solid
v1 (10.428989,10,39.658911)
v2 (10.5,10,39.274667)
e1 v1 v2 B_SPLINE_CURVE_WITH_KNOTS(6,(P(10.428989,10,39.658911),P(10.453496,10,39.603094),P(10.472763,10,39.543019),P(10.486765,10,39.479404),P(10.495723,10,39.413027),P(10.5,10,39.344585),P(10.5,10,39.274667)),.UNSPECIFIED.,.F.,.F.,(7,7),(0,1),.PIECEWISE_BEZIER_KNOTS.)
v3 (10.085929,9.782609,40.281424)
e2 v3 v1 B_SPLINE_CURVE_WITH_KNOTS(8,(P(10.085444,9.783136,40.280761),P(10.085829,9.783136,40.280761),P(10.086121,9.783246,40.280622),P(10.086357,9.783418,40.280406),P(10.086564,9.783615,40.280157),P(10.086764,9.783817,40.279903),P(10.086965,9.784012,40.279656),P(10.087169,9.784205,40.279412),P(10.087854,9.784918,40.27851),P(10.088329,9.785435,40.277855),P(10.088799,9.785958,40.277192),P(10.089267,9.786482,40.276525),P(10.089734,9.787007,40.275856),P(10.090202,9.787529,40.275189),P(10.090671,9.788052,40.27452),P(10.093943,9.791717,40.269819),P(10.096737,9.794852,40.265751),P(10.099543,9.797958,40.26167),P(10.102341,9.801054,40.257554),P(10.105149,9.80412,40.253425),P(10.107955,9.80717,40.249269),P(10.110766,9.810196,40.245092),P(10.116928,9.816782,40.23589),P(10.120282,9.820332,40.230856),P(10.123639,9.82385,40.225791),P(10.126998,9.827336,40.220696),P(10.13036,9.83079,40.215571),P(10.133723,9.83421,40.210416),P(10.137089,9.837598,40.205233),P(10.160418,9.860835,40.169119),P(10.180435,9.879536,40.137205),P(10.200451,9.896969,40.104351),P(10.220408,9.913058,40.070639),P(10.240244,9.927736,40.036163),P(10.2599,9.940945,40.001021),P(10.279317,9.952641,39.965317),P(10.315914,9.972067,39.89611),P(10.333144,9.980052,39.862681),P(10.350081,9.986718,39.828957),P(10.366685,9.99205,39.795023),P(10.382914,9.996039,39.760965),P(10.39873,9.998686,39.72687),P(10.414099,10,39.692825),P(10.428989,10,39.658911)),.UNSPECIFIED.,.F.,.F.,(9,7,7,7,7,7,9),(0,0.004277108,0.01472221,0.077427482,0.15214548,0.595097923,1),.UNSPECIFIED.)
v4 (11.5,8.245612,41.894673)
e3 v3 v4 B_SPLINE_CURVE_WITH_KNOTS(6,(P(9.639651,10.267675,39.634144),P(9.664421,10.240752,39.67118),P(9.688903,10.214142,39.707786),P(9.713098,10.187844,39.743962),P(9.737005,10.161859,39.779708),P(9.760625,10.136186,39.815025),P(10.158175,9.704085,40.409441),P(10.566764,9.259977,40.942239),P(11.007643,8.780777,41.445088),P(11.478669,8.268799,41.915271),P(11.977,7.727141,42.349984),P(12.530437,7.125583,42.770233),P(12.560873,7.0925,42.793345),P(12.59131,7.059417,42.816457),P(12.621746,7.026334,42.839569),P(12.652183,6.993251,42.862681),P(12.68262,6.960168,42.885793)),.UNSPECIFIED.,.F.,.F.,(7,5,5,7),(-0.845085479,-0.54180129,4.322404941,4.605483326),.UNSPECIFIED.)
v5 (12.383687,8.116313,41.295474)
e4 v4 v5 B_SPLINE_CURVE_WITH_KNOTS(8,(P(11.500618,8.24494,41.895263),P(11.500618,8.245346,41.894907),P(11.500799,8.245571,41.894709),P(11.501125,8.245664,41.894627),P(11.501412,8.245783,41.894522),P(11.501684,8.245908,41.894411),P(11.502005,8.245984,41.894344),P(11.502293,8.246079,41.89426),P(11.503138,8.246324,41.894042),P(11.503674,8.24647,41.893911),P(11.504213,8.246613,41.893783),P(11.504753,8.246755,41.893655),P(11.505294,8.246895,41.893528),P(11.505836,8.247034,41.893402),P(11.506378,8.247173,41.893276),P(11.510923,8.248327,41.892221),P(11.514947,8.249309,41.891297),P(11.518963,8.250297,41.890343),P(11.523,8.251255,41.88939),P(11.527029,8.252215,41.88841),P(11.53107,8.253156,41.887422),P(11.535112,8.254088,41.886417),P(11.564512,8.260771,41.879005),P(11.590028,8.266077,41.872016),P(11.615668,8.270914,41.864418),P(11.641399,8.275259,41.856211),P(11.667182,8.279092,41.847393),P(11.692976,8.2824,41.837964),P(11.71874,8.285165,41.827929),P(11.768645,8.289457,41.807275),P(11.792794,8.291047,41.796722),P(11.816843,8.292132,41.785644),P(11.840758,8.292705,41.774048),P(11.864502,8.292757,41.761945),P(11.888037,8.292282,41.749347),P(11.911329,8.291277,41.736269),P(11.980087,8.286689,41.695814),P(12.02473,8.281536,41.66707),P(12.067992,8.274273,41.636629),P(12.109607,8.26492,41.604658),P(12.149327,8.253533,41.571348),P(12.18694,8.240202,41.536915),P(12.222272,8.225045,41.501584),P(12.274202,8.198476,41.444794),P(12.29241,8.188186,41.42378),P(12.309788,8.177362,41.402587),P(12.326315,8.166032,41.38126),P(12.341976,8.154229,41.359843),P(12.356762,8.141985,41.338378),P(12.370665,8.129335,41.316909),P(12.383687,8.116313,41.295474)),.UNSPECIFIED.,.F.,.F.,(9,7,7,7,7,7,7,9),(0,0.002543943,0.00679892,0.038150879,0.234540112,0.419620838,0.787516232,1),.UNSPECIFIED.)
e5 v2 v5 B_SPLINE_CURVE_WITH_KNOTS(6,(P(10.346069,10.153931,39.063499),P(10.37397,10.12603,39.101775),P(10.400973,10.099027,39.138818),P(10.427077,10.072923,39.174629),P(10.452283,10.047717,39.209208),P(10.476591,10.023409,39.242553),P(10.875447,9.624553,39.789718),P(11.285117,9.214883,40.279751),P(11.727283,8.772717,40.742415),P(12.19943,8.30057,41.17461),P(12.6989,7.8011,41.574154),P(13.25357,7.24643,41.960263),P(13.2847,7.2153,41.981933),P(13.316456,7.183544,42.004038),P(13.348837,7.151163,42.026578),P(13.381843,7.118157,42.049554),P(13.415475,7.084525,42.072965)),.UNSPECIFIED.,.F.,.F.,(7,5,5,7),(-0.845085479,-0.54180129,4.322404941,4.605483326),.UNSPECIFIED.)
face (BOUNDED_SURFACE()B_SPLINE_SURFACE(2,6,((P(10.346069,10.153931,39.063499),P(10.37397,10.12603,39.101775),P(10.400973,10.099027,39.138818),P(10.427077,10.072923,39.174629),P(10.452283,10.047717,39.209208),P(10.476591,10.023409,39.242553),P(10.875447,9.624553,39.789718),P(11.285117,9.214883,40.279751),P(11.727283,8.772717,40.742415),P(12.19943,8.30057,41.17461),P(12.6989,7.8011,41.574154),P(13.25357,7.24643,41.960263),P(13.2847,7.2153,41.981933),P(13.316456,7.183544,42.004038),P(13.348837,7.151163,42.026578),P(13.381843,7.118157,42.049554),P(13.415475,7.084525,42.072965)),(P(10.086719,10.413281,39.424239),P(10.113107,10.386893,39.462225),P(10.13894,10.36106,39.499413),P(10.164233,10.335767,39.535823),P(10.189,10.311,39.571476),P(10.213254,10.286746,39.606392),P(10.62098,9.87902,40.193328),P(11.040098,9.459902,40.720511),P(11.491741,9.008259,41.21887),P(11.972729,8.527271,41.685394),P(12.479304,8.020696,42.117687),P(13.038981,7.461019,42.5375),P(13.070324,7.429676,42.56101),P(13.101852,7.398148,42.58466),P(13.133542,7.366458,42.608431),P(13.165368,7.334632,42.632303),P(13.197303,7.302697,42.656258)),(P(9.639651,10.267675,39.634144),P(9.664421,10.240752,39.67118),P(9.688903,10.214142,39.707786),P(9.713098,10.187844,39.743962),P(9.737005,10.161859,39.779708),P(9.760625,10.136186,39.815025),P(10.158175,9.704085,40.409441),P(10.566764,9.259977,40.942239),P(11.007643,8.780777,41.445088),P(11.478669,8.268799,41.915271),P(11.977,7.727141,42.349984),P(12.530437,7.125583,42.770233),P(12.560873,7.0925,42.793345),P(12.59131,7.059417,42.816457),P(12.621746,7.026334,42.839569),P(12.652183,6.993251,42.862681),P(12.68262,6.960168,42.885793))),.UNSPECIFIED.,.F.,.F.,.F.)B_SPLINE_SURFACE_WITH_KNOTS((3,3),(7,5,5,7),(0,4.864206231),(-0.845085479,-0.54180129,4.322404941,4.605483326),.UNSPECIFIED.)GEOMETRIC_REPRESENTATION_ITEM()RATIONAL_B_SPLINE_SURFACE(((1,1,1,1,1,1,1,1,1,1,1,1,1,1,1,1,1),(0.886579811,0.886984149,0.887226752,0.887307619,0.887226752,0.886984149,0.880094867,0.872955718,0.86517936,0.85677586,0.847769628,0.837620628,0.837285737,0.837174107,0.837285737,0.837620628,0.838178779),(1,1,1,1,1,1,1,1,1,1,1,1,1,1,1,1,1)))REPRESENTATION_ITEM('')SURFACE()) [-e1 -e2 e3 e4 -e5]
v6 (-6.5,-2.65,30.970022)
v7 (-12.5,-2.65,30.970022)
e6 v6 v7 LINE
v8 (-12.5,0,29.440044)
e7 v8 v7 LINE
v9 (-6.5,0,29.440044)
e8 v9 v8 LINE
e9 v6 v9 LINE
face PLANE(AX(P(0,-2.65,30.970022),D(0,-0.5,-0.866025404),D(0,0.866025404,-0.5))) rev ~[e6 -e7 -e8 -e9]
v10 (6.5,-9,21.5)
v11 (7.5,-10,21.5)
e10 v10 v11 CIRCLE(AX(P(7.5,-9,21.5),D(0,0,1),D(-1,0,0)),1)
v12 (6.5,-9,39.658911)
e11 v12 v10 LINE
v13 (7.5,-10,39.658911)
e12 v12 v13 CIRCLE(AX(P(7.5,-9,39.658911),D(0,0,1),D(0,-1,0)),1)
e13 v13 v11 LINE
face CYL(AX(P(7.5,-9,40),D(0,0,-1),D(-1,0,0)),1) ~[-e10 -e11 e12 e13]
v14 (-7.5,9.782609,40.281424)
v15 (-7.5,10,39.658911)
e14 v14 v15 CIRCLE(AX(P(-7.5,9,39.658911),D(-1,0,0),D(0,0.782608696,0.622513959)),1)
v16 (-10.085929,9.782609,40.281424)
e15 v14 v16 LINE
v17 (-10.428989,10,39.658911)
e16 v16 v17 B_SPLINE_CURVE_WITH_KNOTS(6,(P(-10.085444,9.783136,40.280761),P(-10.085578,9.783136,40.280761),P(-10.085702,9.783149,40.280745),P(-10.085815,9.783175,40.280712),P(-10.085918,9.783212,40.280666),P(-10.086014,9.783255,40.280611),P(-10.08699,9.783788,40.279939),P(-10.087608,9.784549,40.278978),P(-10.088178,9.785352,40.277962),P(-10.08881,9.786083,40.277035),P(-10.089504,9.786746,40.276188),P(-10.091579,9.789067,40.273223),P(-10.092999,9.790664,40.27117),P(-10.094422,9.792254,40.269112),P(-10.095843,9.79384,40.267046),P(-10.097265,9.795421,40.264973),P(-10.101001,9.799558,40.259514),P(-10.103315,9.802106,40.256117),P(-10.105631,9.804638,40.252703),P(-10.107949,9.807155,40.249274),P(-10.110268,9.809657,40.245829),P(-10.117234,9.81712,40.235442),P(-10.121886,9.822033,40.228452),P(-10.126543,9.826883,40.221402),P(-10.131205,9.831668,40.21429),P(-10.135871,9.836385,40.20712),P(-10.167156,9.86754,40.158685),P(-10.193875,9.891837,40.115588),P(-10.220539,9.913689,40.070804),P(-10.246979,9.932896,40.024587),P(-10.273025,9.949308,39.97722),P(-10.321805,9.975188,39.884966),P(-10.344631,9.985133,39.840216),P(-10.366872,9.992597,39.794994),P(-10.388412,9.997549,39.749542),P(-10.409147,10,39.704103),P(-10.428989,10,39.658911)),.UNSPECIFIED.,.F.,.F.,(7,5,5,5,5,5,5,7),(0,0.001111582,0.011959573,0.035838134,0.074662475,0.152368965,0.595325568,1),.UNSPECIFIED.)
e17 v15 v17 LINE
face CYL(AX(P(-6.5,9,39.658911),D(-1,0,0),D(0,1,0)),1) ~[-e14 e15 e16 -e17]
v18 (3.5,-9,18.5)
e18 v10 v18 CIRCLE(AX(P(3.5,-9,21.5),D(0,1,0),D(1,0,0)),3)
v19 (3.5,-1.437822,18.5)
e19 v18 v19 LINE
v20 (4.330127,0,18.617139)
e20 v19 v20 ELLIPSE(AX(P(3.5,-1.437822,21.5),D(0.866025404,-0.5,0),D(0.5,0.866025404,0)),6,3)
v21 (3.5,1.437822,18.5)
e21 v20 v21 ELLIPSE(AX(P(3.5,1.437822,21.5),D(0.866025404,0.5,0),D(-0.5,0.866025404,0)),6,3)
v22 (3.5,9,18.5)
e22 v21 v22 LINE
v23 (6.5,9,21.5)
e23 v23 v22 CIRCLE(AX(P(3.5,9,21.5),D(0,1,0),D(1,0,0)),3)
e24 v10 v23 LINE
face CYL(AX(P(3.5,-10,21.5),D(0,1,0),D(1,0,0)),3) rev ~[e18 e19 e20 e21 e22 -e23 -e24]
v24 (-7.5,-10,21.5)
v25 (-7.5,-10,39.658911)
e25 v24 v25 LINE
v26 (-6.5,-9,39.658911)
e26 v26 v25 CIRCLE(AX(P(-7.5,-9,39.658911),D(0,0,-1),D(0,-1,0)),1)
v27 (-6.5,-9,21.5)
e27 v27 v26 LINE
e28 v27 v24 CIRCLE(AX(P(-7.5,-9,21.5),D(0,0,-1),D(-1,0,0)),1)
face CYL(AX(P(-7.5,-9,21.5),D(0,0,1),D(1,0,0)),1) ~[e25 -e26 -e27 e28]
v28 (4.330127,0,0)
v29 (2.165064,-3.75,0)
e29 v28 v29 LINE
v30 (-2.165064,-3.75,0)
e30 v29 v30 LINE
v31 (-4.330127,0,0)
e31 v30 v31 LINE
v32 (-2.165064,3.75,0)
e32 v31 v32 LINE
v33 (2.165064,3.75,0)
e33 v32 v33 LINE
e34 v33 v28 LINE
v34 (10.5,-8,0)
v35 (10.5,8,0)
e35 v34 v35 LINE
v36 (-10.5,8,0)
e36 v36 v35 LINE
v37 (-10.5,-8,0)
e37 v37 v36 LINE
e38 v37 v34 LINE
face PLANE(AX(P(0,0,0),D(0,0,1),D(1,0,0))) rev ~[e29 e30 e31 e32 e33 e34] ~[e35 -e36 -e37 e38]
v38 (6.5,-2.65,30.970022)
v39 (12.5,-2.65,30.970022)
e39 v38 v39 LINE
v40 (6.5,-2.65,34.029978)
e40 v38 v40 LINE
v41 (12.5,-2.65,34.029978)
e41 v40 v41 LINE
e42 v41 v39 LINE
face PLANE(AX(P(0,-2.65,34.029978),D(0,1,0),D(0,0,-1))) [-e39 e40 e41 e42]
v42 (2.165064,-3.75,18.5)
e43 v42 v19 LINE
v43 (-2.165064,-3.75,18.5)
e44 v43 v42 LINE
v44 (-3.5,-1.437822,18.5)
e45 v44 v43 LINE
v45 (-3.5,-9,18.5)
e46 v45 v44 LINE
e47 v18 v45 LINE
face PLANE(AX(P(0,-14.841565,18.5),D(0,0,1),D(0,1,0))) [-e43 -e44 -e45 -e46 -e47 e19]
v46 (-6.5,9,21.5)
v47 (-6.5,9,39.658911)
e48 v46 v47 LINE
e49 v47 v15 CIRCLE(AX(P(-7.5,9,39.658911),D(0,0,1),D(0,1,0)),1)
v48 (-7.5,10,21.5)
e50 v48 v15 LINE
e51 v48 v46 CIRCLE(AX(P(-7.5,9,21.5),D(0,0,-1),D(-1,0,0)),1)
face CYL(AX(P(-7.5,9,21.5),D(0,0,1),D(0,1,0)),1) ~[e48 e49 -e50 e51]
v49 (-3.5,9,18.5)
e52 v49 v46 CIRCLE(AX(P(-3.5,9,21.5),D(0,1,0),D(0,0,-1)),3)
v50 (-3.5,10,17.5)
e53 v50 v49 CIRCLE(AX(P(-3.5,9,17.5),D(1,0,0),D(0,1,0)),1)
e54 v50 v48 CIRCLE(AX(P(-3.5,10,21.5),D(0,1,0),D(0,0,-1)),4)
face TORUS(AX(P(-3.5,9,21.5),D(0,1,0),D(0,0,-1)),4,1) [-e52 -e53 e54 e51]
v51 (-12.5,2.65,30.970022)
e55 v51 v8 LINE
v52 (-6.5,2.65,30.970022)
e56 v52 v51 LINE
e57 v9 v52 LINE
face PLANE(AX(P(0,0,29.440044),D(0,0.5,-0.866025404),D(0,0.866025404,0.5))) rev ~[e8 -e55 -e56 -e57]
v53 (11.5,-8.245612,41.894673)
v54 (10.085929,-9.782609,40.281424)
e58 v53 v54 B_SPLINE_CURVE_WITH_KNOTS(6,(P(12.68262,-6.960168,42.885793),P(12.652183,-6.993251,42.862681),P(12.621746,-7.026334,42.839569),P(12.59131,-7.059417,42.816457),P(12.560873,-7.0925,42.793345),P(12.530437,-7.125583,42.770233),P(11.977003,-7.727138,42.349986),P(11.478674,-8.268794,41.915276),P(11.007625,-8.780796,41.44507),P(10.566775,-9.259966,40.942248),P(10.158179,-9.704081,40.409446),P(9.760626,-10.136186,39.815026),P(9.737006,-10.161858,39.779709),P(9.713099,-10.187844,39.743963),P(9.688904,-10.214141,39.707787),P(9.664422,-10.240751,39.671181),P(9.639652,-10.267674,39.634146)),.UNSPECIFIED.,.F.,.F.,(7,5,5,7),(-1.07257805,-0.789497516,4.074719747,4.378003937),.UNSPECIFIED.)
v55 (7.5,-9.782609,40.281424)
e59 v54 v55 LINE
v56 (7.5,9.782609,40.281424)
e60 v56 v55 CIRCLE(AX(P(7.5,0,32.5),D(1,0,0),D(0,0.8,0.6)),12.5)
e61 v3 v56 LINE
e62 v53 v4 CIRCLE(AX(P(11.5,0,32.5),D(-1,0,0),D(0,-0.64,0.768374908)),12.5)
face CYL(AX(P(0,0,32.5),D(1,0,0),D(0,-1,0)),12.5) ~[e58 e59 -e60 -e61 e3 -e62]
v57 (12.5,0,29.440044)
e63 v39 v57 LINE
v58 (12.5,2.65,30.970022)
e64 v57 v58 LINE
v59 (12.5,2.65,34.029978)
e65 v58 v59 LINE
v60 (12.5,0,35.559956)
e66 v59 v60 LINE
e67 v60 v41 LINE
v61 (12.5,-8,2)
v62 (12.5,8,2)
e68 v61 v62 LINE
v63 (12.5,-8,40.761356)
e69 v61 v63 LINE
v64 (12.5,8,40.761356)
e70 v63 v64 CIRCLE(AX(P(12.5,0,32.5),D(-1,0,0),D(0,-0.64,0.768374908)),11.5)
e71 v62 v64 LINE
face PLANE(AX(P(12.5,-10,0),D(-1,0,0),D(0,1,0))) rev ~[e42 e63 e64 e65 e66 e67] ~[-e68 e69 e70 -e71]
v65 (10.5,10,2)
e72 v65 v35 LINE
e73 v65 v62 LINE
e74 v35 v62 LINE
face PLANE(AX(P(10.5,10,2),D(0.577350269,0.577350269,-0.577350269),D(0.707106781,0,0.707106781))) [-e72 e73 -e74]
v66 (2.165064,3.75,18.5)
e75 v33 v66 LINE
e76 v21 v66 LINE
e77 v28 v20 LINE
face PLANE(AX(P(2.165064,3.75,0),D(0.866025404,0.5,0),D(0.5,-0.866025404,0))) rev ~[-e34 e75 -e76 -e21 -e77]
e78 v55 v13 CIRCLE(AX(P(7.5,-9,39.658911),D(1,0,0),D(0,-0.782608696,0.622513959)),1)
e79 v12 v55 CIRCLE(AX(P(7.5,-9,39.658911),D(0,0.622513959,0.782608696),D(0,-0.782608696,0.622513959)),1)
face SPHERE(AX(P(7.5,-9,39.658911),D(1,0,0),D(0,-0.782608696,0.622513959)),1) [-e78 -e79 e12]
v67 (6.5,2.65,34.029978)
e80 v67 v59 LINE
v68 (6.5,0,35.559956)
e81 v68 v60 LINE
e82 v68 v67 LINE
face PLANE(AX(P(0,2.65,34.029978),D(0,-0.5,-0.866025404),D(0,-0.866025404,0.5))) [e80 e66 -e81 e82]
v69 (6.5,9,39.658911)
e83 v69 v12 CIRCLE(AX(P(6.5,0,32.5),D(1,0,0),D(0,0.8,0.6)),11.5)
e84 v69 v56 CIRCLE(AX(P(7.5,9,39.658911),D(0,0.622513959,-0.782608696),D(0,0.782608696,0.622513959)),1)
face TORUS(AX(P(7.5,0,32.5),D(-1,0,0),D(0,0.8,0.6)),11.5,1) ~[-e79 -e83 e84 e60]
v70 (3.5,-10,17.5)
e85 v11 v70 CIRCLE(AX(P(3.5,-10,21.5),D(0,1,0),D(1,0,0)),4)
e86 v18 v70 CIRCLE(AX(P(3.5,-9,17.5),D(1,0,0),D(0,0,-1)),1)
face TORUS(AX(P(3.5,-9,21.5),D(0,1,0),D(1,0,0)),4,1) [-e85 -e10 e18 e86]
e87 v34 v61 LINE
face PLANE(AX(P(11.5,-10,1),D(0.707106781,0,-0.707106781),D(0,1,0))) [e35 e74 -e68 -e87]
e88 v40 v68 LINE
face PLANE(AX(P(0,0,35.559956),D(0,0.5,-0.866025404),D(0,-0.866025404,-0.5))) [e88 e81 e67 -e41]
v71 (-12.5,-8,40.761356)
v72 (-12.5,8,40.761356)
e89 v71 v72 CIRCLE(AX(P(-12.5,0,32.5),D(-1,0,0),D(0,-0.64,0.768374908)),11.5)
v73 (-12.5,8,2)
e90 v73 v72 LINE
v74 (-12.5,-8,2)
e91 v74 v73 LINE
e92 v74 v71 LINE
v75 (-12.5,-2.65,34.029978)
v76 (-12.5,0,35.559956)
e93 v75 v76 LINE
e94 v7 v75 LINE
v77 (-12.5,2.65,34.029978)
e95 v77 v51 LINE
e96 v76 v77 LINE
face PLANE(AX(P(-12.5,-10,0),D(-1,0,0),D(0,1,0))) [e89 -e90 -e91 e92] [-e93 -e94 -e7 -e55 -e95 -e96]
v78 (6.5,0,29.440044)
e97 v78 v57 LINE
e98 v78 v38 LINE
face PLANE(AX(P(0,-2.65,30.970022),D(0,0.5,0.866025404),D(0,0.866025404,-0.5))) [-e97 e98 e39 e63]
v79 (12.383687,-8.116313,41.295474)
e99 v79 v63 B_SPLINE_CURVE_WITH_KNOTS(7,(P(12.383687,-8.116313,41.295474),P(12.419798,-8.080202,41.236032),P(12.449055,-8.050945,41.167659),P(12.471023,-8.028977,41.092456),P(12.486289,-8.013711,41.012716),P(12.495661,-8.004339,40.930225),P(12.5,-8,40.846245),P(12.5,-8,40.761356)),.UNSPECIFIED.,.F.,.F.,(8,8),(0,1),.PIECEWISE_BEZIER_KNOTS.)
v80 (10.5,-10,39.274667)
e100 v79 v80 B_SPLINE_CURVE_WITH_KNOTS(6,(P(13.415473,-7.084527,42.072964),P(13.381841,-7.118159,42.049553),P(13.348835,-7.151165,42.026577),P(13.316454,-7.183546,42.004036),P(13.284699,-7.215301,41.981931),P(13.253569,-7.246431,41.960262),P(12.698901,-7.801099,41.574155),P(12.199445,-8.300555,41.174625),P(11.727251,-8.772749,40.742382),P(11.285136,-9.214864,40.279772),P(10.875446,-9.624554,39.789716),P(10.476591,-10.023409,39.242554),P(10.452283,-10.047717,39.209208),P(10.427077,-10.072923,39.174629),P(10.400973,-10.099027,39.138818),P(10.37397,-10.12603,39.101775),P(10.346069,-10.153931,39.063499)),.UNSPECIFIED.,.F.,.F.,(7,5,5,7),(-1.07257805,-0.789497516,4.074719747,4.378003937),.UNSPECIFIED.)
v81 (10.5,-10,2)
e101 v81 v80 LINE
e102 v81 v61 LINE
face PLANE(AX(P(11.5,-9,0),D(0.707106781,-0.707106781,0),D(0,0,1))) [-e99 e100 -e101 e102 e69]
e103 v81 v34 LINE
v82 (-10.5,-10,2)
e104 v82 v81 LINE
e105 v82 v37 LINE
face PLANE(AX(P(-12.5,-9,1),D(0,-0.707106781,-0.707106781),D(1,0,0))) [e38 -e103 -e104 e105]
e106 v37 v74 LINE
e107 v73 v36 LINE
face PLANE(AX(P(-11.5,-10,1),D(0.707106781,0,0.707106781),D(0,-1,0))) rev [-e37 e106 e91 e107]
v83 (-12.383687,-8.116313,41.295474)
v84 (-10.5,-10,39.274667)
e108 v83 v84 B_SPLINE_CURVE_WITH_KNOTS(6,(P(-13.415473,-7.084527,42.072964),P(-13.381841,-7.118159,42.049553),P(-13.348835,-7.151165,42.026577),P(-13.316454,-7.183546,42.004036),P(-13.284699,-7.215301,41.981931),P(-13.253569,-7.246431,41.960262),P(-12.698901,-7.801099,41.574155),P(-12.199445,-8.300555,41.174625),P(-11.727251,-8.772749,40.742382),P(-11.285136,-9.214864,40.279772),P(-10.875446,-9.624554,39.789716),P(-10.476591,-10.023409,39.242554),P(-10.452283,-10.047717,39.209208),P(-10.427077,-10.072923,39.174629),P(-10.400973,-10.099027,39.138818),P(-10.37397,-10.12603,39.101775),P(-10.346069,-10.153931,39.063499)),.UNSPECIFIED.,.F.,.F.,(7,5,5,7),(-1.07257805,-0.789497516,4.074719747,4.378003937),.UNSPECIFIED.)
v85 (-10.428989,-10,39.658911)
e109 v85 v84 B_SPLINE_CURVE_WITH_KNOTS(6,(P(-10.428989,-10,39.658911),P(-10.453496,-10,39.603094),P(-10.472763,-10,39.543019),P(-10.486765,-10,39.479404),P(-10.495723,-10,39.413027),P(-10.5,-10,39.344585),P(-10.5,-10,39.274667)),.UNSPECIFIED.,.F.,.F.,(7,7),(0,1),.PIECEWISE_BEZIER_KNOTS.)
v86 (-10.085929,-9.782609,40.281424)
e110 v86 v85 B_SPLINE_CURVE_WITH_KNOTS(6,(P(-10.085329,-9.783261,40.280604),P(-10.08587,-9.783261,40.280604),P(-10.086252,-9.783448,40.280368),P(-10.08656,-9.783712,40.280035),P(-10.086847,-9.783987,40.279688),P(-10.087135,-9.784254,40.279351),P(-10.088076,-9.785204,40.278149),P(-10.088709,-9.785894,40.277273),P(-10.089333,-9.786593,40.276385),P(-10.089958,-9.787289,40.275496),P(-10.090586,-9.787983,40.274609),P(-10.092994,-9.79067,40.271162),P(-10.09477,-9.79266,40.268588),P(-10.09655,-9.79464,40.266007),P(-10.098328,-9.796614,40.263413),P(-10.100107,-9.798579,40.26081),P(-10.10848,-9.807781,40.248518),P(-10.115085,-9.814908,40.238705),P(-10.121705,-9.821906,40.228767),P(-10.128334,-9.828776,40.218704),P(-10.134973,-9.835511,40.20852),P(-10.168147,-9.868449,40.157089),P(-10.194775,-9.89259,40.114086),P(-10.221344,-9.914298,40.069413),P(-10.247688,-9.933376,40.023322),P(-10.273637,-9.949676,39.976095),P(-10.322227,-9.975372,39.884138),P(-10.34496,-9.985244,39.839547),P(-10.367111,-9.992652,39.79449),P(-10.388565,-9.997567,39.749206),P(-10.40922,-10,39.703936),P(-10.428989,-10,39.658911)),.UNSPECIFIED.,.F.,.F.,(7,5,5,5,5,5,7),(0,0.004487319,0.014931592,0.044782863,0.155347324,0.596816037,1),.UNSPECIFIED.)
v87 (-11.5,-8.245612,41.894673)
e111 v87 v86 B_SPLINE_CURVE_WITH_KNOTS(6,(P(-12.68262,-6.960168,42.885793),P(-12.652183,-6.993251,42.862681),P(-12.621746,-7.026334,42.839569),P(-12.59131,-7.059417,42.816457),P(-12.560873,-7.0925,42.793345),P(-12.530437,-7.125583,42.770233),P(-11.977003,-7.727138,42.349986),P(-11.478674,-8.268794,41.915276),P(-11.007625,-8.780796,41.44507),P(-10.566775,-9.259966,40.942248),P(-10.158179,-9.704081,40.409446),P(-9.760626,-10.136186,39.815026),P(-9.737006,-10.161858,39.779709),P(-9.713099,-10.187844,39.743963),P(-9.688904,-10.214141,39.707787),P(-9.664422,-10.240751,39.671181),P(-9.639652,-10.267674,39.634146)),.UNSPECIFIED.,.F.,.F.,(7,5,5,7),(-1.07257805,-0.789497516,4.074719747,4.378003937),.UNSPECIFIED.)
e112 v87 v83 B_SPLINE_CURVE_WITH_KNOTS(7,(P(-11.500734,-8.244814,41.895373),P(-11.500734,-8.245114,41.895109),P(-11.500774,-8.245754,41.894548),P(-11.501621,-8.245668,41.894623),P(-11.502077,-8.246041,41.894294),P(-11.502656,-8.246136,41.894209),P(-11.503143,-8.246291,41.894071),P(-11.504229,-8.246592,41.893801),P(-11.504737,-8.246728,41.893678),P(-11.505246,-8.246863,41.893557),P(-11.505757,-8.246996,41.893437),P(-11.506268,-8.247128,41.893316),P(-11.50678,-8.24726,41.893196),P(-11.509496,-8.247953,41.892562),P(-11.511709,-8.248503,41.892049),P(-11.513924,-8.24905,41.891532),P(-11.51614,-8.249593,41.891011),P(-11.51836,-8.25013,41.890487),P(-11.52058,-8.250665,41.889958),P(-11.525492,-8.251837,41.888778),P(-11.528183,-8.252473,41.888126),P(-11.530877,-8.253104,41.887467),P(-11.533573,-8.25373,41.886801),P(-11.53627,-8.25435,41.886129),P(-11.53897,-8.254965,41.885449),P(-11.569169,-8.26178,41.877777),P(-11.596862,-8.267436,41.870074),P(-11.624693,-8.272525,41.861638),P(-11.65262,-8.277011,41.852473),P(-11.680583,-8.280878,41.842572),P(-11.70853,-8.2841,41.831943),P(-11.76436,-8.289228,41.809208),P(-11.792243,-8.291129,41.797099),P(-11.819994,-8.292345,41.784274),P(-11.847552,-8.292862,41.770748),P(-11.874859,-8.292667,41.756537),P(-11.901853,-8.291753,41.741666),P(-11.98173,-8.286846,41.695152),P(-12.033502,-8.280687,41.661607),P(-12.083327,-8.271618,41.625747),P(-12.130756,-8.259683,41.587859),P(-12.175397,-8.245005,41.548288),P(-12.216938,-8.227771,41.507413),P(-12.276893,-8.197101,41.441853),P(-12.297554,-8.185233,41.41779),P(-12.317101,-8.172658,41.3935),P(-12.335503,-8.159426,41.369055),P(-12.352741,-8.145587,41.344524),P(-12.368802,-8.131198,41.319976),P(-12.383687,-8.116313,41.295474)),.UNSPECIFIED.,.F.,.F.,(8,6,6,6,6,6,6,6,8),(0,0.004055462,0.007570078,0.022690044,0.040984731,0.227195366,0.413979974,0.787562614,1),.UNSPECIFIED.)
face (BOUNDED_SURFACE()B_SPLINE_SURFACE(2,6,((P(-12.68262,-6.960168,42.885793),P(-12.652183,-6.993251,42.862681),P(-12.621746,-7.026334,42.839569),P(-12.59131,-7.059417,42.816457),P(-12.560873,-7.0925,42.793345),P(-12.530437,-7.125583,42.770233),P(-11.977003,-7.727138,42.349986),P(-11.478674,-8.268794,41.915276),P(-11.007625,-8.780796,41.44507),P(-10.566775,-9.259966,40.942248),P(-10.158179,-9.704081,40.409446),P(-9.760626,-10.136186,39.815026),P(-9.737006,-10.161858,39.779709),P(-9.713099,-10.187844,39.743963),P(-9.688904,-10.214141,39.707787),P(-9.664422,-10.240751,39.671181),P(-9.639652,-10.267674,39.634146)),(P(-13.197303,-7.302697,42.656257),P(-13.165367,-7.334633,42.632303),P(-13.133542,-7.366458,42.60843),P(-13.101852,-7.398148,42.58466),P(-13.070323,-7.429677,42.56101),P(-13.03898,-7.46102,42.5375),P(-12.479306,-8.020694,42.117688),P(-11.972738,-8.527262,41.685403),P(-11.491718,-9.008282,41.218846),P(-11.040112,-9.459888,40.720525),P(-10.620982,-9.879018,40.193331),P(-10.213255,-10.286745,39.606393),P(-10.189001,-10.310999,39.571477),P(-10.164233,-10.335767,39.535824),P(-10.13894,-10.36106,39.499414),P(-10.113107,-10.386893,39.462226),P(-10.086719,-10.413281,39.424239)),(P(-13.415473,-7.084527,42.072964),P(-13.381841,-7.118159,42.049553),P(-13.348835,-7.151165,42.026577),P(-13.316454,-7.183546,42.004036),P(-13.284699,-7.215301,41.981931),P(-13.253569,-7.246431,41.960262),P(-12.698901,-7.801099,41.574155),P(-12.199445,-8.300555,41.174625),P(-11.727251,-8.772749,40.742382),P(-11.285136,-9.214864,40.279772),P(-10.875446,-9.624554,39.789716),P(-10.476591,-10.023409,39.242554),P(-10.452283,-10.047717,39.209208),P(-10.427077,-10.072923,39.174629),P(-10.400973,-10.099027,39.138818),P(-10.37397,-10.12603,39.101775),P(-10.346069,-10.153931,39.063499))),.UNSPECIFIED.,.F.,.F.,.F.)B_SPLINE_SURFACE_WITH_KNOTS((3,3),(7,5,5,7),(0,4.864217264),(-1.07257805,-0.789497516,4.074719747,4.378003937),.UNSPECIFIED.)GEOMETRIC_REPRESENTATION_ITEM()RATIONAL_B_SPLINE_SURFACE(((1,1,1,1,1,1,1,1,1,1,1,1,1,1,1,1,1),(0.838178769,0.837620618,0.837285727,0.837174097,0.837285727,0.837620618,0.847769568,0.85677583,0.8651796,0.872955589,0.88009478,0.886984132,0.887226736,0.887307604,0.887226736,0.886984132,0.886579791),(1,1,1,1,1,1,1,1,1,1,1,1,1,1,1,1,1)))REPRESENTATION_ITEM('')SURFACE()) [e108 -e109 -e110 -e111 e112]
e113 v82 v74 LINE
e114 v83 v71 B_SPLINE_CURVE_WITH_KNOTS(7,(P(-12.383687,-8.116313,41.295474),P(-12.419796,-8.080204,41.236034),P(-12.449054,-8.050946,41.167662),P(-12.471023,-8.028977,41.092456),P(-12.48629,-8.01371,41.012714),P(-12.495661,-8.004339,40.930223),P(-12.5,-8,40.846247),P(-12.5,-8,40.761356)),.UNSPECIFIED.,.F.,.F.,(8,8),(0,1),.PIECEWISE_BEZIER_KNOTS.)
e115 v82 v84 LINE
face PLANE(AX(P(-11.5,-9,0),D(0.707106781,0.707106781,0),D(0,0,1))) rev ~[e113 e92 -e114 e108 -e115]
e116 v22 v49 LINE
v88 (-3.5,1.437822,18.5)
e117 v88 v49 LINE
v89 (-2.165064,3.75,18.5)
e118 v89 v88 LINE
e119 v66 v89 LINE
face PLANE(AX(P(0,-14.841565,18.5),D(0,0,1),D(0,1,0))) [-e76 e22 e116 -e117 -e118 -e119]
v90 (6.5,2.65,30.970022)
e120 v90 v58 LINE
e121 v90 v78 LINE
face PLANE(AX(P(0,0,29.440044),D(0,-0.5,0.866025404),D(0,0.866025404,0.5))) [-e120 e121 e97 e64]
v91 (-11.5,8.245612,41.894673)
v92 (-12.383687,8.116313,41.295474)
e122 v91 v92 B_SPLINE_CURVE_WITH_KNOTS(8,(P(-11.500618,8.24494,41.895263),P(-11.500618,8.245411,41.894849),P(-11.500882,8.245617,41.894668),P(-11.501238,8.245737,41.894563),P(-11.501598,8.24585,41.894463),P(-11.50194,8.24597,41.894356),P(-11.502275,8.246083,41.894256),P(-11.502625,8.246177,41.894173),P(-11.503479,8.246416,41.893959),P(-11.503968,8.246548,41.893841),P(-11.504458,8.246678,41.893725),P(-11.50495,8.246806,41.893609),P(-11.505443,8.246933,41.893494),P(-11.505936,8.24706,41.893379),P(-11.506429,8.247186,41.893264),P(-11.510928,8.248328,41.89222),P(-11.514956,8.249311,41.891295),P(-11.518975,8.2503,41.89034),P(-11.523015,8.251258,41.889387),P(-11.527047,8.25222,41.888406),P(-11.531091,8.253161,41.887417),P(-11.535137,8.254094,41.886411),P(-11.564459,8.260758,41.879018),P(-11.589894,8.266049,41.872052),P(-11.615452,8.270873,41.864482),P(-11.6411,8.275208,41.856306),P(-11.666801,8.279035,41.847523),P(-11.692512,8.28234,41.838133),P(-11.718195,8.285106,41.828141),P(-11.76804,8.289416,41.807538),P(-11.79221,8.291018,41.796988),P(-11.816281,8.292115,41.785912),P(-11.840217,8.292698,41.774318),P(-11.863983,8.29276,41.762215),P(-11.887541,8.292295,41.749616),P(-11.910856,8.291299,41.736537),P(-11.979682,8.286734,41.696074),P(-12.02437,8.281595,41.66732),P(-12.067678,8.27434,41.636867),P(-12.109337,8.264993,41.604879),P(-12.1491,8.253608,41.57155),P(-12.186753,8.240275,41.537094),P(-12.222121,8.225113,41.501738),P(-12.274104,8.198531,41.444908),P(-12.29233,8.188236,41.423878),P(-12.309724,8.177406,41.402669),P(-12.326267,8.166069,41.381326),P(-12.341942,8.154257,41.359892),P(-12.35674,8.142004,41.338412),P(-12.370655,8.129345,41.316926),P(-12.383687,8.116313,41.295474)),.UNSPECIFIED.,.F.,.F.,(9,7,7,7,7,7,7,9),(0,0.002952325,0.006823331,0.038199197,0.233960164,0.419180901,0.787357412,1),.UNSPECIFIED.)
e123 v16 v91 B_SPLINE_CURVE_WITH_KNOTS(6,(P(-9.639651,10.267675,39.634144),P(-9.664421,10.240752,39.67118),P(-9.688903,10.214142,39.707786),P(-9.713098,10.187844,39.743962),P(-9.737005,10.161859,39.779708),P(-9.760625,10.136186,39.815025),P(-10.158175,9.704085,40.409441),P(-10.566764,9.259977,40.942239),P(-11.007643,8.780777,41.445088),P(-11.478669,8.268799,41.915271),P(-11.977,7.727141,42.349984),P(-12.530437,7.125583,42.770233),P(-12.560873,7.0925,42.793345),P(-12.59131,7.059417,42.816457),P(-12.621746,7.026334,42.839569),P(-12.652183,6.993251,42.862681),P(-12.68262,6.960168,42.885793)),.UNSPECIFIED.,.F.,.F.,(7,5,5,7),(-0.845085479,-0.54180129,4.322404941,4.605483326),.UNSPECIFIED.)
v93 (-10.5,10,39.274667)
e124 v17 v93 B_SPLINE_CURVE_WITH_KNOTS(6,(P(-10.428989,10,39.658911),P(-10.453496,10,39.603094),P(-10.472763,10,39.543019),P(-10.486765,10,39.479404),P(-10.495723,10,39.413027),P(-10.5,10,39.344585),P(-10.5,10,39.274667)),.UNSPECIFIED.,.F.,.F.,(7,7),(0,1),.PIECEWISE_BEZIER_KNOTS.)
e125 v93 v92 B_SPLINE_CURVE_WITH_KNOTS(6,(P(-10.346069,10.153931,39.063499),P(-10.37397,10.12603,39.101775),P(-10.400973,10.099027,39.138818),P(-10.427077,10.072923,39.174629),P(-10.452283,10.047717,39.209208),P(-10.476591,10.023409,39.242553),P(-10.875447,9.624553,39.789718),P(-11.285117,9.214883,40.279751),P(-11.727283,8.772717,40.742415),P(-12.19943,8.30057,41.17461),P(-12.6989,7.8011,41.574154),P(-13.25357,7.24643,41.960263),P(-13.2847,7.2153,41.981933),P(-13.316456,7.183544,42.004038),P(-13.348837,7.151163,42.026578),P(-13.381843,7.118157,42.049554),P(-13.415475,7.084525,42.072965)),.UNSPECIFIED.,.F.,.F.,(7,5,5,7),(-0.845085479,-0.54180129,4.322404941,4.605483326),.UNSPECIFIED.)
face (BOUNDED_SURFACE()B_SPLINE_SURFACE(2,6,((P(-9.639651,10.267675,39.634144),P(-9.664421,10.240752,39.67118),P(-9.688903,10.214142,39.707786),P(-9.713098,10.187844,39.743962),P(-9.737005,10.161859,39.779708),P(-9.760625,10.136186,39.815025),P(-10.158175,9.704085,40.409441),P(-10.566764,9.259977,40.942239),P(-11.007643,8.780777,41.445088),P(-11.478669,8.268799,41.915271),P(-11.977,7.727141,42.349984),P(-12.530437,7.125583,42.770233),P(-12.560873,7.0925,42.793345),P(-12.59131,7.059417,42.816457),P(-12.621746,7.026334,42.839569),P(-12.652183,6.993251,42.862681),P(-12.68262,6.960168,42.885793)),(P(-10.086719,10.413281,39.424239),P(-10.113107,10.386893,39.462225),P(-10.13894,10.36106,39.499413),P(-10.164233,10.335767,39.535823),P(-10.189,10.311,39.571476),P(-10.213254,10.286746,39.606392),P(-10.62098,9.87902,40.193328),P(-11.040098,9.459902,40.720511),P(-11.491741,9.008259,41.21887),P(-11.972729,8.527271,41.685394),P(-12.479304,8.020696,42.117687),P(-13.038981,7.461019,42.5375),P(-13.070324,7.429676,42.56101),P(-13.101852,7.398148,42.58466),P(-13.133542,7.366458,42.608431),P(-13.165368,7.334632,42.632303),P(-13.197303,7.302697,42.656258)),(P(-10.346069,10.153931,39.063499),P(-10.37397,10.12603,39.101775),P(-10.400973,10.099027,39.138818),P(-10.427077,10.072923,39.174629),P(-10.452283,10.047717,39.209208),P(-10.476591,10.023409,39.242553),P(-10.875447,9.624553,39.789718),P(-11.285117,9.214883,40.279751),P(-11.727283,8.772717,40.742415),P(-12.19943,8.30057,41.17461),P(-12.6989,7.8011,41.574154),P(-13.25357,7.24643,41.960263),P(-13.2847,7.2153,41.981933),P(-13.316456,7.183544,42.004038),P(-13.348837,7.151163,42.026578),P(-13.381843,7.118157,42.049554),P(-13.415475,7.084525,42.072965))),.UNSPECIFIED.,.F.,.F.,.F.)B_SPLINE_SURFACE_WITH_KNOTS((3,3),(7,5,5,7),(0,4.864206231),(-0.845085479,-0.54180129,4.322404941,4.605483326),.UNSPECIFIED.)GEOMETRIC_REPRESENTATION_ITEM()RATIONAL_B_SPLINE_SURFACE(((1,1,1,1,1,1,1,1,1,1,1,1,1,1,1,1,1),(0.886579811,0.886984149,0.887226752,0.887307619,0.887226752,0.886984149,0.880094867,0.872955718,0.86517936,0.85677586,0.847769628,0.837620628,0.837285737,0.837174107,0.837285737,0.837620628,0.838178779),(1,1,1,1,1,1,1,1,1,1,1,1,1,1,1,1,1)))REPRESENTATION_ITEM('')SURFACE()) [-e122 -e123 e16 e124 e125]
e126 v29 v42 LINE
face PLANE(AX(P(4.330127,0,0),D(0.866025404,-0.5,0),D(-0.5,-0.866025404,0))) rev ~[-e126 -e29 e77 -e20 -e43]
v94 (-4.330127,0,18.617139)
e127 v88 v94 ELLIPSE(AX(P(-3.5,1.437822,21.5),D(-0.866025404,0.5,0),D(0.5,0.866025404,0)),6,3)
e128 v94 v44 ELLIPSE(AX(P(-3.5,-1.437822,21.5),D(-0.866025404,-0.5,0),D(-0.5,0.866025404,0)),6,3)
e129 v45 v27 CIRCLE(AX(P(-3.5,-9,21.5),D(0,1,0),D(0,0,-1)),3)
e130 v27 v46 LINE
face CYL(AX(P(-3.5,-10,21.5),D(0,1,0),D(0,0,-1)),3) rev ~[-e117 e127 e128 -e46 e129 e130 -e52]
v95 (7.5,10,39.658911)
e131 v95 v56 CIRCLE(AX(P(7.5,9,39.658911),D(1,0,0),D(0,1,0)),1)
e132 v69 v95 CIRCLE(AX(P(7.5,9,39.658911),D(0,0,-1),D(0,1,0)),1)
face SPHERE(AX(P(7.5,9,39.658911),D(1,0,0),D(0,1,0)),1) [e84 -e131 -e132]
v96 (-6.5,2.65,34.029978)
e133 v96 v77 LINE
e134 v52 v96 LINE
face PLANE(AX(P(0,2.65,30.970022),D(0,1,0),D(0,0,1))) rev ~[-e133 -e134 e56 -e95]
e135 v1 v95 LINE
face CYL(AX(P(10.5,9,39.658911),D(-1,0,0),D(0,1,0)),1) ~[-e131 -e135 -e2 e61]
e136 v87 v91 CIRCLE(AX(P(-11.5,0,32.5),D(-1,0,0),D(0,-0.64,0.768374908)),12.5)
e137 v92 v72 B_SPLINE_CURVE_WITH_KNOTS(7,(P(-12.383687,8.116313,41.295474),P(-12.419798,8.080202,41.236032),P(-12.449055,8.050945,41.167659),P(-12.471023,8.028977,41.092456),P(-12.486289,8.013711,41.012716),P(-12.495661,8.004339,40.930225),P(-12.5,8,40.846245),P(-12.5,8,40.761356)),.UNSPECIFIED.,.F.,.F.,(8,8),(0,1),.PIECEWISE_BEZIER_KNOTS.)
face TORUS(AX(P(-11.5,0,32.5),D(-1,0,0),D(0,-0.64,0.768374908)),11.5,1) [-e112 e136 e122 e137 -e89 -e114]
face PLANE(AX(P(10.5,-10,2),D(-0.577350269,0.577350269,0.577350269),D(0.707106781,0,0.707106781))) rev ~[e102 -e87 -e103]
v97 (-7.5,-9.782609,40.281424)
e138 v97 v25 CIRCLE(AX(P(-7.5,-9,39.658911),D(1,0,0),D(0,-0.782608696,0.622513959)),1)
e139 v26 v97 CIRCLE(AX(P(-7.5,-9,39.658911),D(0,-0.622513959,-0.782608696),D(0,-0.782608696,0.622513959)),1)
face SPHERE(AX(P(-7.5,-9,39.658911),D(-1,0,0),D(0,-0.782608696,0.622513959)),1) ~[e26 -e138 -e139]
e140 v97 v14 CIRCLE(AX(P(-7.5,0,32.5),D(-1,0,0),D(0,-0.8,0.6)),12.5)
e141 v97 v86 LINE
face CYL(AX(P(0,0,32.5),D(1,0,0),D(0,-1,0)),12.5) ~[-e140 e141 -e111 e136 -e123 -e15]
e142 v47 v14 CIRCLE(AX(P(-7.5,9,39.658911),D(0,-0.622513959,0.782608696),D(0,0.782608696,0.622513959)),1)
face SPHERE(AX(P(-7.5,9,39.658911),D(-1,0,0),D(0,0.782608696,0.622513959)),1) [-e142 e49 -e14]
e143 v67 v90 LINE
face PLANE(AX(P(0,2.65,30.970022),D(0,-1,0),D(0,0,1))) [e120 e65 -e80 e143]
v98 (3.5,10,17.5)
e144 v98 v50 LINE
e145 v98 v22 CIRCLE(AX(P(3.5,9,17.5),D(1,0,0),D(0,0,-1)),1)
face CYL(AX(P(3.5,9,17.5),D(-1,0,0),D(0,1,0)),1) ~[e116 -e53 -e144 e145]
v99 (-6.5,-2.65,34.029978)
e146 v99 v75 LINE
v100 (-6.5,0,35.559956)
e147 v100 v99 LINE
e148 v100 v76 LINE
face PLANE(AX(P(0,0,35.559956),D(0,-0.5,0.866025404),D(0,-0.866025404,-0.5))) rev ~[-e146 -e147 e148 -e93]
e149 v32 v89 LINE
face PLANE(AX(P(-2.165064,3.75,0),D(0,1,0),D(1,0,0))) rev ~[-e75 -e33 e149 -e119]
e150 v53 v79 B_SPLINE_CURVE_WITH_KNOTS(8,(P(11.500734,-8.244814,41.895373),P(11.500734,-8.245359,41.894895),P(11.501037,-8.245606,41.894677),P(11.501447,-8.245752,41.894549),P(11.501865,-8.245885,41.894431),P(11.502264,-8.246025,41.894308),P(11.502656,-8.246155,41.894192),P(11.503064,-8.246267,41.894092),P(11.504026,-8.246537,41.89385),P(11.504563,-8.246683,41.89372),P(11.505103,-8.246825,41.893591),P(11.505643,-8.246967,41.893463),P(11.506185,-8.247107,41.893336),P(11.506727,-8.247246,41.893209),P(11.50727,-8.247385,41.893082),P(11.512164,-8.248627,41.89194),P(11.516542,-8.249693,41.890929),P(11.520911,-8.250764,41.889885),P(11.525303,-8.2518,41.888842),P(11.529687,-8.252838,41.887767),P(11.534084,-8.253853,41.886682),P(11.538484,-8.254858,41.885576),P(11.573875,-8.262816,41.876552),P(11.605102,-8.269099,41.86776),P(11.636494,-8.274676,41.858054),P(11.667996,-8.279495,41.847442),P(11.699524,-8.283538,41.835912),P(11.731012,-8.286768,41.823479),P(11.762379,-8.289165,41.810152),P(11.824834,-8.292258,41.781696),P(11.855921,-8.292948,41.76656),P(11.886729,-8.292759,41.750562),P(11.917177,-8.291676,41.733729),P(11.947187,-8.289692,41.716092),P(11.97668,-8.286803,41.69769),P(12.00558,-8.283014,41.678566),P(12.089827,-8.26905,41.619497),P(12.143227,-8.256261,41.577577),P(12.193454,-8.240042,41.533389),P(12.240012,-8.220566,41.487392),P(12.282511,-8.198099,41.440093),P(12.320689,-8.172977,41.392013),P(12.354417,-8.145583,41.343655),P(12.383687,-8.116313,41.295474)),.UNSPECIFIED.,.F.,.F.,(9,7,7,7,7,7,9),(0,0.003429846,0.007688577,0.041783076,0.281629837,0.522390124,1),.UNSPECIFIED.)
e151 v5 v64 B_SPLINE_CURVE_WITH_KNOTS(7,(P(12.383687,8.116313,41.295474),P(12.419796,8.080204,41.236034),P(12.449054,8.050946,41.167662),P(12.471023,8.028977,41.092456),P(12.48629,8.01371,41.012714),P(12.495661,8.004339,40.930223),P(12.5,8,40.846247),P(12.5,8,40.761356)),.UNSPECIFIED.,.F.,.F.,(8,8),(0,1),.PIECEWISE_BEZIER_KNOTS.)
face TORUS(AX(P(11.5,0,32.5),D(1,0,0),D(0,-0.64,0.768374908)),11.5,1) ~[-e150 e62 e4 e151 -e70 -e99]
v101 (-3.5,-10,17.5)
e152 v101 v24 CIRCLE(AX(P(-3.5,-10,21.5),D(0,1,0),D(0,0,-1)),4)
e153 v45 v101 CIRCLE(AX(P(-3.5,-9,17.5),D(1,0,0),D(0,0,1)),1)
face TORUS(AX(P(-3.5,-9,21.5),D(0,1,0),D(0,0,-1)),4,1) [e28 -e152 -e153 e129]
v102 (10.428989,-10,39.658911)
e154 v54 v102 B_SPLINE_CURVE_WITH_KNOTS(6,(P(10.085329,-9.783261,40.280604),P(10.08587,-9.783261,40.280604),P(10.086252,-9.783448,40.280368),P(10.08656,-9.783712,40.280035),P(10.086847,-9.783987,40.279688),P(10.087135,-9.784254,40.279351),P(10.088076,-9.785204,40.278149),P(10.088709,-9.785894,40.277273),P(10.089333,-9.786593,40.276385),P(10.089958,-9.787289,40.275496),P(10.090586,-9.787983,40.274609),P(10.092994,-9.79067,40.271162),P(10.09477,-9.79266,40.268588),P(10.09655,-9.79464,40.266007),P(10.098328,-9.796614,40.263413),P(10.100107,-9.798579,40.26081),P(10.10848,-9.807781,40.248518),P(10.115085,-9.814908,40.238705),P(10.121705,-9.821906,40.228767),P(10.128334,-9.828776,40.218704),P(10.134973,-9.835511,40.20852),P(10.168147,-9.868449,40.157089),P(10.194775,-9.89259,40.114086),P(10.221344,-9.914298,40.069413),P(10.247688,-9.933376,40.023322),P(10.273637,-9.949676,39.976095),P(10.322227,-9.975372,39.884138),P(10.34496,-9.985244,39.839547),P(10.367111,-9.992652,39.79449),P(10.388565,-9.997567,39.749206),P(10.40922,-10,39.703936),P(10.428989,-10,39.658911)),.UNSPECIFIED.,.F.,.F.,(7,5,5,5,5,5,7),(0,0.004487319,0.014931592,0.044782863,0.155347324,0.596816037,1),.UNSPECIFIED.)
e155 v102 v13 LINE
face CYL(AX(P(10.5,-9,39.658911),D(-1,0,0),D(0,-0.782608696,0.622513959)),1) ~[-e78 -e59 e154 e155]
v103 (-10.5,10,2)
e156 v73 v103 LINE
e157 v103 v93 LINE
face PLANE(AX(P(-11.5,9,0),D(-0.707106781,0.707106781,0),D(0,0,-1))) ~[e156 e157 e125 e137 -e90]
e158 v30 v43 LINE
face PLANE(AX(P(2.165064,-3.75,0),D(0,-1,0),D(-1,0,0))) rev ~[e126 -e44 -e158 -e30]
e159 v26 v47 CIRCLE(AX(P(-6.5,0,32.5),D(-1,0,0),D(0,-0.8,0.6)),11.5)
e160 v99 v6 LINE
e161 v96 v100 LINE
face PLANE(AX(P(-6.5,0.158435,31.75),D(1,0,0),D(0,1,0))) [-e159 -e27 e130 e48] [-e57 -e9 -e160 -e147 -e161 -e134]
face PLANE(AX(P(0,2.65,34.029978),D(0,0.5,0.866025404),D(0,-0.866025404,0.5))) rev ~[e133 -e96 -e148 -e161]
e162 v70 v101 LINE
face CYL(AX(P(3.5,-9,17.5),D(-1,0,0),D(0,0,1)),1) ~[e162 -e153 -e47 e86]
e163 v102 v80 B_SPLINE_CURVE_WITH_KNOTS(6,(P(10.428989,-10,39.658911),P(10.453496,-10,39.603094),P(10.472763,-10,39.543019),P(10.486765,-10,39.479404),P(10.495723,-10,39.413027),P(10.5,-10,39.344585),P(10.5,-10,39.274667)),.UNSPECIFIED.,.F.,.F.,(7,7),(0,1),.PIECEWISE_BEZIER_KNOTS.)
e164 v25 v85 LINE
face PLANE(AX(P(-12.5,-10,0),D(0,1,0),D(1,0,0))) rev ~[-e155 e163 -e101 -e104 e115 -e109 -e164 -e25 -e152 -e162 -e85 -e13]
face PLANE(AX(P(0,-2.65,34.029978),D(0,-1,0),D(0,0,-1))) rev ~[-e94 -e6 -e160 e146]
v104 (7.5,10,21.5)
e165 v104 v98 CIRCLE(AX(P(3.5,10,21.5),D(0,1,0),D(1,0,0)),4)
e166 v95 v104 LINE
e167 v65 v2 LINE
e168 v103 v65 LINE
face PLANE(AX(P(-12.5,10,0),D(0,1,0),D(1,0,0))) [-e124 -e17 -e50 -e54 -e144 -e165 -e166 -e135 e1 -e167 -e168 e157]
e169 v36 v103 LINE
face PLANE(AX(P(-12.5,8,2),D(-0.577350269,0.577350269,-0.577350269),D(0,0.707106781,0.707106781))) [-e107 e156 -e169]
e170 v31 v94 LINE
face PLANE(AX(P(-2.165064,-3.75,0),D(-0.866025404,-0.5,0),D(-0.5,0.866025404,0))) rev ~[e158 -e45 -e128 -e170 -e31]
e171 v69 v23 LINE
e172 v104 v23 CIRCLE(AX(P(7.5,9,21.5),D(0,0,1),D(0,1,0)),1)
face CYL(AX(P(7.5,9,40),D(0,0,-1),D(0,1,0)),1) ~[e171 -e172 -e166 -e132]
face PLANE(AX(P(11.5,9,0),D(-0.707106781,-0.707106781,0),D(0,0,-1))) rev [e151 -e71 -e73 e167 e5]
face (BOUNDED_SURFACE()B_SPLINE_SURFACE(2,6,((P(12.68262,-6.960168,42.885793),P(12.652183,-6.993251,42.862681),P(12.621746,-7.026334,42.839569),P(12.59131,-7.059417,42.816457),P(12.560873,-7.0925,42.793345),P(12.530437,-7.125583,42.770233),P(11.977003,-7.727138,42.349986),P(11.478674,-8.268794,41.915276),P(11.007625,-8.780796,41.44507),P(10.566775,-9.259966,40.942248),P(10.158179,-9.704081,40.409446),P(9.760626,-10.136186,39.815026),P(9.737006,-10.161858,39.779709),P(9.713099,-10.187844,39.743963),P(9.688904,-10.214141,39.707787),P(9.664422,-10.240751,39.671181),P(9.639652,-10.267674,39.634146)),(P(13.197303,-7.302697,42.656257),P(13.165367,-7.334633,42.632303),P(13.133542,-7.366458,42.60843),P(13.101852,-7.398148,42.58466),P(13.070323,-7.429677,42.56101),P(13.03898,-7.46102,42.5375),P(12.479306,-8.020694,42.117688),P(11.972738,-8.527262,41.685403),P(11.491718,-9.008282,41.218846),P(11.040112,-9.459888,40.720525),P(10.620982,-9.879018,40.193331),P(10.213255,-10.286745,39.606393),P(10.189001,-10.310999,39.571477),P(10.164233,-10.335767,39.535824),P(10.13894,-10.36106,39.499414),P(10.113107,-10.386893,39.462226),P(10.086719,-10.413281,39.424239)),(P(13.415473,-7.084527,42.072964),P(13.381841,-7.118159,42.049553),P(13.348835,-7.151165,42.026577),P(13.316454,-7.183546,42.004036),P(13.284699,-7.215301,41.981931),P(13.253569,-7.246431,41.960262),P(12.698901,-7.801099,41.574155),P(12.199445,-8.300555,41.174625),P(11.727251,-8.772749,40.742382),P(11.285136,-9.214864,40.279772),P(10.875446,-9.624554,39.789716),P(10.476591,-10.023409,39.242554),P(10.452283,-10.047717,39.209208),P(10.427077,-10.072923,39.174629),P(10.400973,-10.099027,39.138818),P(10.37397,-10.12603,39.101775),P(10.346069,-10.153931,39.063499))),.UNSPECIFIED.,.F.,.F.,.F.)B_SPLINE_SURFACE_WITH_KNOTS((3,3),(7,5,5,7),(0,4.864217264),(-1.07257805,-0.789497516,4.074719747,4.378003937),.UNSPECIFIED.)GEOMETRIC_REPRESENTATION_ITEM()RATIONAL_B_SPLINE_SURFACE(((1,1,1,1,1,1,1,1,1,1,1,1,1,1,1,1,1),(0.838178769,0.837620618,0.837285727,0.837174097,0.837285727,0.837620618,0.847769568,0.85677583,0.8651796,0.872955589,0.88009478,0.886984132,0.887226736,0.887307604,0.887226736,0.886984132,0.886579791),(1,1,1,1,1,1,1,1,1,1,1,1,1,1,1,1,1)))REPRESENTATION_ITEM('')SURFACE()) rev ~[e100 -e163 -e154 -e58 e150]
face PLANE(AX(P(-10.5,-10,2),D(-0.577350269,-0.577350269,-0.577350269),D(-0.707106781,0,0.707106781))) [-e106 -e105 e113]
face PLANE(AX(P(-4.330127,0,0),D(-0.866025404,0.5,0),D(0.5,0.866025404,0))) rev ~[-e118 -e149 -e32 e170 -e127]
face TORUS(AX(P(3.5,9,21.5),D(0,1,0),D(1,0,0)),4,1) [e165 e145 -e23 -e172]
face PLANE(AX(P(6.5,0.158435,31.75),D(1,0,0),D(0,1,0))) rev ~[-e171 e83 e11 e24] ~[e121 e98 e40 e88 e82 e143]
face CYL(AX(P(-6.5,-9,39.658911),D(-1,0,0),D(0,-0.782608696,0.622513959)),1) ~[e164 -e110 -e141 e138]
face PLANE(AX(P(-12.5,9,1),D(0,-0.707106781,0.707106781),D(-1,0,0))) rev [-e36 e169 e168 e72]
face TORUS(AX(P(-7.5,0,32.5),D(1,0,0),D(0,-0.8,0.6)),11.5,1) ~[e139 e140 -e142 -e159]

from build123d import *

# Parameters (mm, degrees)
F0_W           = 25
F0_H           = 20
F1_DEPTH       = 45
F6_DEPTH       = 12.501
F6_DEPTH_BACK  = 12.501
F4_W           = 30
F4_H           = 26.5
F7_DEPTH       = 6.5
F7_DEPTH_BACK  = 6.5
F8_R           = 3
F9_SIZE        = 2
F10_R          = 1
F11_DEPTH      = 12.5010001
F11_DEPTH_BACK = 12.5010001
F12_DEPTH      = 25


with BuildPart() as f1:
    # F0 (on Top) → F1 (new body)
    with BuildSketch(Plane.XY):
        Rectangle(F0_W, F0_H)
    extrude(amount=F1_DEPTH)

    # F3 (on Right) → F6 (cut, two sides)
    with BuildSketch(Plane.YZ) as f6_sk:
        with BuildLine():
            Line((12.4710435048, 32.5), (12.5, 32.5))
            ThreePointArc((12.5, 32.5), (12.4927587788, 32.9254152033), (12.4710435048, 33.3503375224))
            Line((12.4710435048, 33.3503375224), (12.4710435048, 32.5))
        make_face()
        with BuildLine():
            ThreePointArc((-12.5, 32.5), (-0.4254152033, 44.9927587788), (12.4710435048, 33.3503375224))
            Line((12.4710435048, 33.3503375224), (12.4710435048, 47.7809855342))
            Line((12.4710435048, 47.7809855342), (-12.574961409, 47.7809855342))
            Line((-12.574961409, 47.7809855342), (-12.574961409, 32.5))
            Line((-12.574961409, 32.5), (-12.5, 32.5))
        make_face()
    extrude(amount=-F6_DEPTH, mode=Mode.SUBTRACT)
    extrude(f6_sk.sketch, amount=F6_DEPTH_BACK, mode=Mode.SUBTRACT)

    # F4 (on Right) → F7 (cut, two sides)
    with BuildSketch(Plane.YZ) as f7_sk:
        with Locations((0.1584350094, 31.75)):
            Rectangle(F4_W, F4_H)
    extrude(amount=F7_DEPTH, mode=Mode.SUBTRACT)
    extrude(f7_sk.sketch, amount=-F7_DEPTH_BACK, mode=Mode.SUBTRACT)

    # F8
    f8_edges = [f1.edges().sort_by_distance(p)[0] for p in [
        (6.5, 0, 18.5),
        (-6.5, 0, 18.5),
    ]]
    fillet(f8_edges, radius=F8_R)

    # F9
    f9_edges = [f1.edges().sort_by_distance(p)[0] for p in [
        (12.5, 0, 0),
        (0, 10, 0),
        (-12.5, 0, 0),
        (0, -10, 0),
        (-12.5, 10, 20),
        (12.5, 10, 20),
        (-12.5, -10, 20),
        (12.5, -10, 20),
    ]]
    chamfer(f9_edges, length=F9_SIZE)

    # F10
    f10_edges = [f1.edges().sort_by_distance(p)[0] for p in [
        (6.5, 10, 30.75),
        (6.5, 0, 21.5),
        (6.5, 0, 45),
        (6.5, -10, 30.75),
        (-12.5, 0, 45),
        (-11.458371, 9.041629, 41.131278),
        (-11.458371, -9.041629, 41.131278),
        (-8.5, 10, 40),
        (-8.5, -10, 40),
        (-6.5, 0, 45),
        (8.5, 10, 40),
        (11.458371, 9.041629, 41.131278),
        (12.5, 0, 45),
        (8.5, -10, 40),
        (11.458371, -9.041629, 41.131278),
    ]]
    fillet(f10_edges, radius=F10_R)

    # F5 (on Right) → F11 (cut, two sides)
    with BuildSketch(Plane.YZ) as f11_sk:
        Polygon((-2.65, 30.9700217866), (0, 29.4400435733), (2.65, 30.9700217866), (2.65, 34.0299782134), (0, 35.5599564267), (-2.65, 34.0299782134), align=None)
    extrude(amount=-F11_DEPTH, mode=Mode.SUBTRACT)
    extrude(f11_sk.sketch, amount=F11_DEPTH_BACK, mode=Mode.SUBTRACT)

    # F2 (on face) → F12 (cut)
    with BuildSketch(Plane(origin=(0, 0, 0), x_dir=(1, 0, 0), z_dir=(0, 0, -1))):
        Polygon((4.3301270189, 0), (2.1650635095, 3.75), (-2.1650635095, 3.75), (-4.3301270189, 0), (-2.1650635095, -3.75), (2.1650635095, -3.75), align=None)
    extrude(amount=-F12_DEPTH, mode=Mode.SUBTRACT)


solid = f1.part
